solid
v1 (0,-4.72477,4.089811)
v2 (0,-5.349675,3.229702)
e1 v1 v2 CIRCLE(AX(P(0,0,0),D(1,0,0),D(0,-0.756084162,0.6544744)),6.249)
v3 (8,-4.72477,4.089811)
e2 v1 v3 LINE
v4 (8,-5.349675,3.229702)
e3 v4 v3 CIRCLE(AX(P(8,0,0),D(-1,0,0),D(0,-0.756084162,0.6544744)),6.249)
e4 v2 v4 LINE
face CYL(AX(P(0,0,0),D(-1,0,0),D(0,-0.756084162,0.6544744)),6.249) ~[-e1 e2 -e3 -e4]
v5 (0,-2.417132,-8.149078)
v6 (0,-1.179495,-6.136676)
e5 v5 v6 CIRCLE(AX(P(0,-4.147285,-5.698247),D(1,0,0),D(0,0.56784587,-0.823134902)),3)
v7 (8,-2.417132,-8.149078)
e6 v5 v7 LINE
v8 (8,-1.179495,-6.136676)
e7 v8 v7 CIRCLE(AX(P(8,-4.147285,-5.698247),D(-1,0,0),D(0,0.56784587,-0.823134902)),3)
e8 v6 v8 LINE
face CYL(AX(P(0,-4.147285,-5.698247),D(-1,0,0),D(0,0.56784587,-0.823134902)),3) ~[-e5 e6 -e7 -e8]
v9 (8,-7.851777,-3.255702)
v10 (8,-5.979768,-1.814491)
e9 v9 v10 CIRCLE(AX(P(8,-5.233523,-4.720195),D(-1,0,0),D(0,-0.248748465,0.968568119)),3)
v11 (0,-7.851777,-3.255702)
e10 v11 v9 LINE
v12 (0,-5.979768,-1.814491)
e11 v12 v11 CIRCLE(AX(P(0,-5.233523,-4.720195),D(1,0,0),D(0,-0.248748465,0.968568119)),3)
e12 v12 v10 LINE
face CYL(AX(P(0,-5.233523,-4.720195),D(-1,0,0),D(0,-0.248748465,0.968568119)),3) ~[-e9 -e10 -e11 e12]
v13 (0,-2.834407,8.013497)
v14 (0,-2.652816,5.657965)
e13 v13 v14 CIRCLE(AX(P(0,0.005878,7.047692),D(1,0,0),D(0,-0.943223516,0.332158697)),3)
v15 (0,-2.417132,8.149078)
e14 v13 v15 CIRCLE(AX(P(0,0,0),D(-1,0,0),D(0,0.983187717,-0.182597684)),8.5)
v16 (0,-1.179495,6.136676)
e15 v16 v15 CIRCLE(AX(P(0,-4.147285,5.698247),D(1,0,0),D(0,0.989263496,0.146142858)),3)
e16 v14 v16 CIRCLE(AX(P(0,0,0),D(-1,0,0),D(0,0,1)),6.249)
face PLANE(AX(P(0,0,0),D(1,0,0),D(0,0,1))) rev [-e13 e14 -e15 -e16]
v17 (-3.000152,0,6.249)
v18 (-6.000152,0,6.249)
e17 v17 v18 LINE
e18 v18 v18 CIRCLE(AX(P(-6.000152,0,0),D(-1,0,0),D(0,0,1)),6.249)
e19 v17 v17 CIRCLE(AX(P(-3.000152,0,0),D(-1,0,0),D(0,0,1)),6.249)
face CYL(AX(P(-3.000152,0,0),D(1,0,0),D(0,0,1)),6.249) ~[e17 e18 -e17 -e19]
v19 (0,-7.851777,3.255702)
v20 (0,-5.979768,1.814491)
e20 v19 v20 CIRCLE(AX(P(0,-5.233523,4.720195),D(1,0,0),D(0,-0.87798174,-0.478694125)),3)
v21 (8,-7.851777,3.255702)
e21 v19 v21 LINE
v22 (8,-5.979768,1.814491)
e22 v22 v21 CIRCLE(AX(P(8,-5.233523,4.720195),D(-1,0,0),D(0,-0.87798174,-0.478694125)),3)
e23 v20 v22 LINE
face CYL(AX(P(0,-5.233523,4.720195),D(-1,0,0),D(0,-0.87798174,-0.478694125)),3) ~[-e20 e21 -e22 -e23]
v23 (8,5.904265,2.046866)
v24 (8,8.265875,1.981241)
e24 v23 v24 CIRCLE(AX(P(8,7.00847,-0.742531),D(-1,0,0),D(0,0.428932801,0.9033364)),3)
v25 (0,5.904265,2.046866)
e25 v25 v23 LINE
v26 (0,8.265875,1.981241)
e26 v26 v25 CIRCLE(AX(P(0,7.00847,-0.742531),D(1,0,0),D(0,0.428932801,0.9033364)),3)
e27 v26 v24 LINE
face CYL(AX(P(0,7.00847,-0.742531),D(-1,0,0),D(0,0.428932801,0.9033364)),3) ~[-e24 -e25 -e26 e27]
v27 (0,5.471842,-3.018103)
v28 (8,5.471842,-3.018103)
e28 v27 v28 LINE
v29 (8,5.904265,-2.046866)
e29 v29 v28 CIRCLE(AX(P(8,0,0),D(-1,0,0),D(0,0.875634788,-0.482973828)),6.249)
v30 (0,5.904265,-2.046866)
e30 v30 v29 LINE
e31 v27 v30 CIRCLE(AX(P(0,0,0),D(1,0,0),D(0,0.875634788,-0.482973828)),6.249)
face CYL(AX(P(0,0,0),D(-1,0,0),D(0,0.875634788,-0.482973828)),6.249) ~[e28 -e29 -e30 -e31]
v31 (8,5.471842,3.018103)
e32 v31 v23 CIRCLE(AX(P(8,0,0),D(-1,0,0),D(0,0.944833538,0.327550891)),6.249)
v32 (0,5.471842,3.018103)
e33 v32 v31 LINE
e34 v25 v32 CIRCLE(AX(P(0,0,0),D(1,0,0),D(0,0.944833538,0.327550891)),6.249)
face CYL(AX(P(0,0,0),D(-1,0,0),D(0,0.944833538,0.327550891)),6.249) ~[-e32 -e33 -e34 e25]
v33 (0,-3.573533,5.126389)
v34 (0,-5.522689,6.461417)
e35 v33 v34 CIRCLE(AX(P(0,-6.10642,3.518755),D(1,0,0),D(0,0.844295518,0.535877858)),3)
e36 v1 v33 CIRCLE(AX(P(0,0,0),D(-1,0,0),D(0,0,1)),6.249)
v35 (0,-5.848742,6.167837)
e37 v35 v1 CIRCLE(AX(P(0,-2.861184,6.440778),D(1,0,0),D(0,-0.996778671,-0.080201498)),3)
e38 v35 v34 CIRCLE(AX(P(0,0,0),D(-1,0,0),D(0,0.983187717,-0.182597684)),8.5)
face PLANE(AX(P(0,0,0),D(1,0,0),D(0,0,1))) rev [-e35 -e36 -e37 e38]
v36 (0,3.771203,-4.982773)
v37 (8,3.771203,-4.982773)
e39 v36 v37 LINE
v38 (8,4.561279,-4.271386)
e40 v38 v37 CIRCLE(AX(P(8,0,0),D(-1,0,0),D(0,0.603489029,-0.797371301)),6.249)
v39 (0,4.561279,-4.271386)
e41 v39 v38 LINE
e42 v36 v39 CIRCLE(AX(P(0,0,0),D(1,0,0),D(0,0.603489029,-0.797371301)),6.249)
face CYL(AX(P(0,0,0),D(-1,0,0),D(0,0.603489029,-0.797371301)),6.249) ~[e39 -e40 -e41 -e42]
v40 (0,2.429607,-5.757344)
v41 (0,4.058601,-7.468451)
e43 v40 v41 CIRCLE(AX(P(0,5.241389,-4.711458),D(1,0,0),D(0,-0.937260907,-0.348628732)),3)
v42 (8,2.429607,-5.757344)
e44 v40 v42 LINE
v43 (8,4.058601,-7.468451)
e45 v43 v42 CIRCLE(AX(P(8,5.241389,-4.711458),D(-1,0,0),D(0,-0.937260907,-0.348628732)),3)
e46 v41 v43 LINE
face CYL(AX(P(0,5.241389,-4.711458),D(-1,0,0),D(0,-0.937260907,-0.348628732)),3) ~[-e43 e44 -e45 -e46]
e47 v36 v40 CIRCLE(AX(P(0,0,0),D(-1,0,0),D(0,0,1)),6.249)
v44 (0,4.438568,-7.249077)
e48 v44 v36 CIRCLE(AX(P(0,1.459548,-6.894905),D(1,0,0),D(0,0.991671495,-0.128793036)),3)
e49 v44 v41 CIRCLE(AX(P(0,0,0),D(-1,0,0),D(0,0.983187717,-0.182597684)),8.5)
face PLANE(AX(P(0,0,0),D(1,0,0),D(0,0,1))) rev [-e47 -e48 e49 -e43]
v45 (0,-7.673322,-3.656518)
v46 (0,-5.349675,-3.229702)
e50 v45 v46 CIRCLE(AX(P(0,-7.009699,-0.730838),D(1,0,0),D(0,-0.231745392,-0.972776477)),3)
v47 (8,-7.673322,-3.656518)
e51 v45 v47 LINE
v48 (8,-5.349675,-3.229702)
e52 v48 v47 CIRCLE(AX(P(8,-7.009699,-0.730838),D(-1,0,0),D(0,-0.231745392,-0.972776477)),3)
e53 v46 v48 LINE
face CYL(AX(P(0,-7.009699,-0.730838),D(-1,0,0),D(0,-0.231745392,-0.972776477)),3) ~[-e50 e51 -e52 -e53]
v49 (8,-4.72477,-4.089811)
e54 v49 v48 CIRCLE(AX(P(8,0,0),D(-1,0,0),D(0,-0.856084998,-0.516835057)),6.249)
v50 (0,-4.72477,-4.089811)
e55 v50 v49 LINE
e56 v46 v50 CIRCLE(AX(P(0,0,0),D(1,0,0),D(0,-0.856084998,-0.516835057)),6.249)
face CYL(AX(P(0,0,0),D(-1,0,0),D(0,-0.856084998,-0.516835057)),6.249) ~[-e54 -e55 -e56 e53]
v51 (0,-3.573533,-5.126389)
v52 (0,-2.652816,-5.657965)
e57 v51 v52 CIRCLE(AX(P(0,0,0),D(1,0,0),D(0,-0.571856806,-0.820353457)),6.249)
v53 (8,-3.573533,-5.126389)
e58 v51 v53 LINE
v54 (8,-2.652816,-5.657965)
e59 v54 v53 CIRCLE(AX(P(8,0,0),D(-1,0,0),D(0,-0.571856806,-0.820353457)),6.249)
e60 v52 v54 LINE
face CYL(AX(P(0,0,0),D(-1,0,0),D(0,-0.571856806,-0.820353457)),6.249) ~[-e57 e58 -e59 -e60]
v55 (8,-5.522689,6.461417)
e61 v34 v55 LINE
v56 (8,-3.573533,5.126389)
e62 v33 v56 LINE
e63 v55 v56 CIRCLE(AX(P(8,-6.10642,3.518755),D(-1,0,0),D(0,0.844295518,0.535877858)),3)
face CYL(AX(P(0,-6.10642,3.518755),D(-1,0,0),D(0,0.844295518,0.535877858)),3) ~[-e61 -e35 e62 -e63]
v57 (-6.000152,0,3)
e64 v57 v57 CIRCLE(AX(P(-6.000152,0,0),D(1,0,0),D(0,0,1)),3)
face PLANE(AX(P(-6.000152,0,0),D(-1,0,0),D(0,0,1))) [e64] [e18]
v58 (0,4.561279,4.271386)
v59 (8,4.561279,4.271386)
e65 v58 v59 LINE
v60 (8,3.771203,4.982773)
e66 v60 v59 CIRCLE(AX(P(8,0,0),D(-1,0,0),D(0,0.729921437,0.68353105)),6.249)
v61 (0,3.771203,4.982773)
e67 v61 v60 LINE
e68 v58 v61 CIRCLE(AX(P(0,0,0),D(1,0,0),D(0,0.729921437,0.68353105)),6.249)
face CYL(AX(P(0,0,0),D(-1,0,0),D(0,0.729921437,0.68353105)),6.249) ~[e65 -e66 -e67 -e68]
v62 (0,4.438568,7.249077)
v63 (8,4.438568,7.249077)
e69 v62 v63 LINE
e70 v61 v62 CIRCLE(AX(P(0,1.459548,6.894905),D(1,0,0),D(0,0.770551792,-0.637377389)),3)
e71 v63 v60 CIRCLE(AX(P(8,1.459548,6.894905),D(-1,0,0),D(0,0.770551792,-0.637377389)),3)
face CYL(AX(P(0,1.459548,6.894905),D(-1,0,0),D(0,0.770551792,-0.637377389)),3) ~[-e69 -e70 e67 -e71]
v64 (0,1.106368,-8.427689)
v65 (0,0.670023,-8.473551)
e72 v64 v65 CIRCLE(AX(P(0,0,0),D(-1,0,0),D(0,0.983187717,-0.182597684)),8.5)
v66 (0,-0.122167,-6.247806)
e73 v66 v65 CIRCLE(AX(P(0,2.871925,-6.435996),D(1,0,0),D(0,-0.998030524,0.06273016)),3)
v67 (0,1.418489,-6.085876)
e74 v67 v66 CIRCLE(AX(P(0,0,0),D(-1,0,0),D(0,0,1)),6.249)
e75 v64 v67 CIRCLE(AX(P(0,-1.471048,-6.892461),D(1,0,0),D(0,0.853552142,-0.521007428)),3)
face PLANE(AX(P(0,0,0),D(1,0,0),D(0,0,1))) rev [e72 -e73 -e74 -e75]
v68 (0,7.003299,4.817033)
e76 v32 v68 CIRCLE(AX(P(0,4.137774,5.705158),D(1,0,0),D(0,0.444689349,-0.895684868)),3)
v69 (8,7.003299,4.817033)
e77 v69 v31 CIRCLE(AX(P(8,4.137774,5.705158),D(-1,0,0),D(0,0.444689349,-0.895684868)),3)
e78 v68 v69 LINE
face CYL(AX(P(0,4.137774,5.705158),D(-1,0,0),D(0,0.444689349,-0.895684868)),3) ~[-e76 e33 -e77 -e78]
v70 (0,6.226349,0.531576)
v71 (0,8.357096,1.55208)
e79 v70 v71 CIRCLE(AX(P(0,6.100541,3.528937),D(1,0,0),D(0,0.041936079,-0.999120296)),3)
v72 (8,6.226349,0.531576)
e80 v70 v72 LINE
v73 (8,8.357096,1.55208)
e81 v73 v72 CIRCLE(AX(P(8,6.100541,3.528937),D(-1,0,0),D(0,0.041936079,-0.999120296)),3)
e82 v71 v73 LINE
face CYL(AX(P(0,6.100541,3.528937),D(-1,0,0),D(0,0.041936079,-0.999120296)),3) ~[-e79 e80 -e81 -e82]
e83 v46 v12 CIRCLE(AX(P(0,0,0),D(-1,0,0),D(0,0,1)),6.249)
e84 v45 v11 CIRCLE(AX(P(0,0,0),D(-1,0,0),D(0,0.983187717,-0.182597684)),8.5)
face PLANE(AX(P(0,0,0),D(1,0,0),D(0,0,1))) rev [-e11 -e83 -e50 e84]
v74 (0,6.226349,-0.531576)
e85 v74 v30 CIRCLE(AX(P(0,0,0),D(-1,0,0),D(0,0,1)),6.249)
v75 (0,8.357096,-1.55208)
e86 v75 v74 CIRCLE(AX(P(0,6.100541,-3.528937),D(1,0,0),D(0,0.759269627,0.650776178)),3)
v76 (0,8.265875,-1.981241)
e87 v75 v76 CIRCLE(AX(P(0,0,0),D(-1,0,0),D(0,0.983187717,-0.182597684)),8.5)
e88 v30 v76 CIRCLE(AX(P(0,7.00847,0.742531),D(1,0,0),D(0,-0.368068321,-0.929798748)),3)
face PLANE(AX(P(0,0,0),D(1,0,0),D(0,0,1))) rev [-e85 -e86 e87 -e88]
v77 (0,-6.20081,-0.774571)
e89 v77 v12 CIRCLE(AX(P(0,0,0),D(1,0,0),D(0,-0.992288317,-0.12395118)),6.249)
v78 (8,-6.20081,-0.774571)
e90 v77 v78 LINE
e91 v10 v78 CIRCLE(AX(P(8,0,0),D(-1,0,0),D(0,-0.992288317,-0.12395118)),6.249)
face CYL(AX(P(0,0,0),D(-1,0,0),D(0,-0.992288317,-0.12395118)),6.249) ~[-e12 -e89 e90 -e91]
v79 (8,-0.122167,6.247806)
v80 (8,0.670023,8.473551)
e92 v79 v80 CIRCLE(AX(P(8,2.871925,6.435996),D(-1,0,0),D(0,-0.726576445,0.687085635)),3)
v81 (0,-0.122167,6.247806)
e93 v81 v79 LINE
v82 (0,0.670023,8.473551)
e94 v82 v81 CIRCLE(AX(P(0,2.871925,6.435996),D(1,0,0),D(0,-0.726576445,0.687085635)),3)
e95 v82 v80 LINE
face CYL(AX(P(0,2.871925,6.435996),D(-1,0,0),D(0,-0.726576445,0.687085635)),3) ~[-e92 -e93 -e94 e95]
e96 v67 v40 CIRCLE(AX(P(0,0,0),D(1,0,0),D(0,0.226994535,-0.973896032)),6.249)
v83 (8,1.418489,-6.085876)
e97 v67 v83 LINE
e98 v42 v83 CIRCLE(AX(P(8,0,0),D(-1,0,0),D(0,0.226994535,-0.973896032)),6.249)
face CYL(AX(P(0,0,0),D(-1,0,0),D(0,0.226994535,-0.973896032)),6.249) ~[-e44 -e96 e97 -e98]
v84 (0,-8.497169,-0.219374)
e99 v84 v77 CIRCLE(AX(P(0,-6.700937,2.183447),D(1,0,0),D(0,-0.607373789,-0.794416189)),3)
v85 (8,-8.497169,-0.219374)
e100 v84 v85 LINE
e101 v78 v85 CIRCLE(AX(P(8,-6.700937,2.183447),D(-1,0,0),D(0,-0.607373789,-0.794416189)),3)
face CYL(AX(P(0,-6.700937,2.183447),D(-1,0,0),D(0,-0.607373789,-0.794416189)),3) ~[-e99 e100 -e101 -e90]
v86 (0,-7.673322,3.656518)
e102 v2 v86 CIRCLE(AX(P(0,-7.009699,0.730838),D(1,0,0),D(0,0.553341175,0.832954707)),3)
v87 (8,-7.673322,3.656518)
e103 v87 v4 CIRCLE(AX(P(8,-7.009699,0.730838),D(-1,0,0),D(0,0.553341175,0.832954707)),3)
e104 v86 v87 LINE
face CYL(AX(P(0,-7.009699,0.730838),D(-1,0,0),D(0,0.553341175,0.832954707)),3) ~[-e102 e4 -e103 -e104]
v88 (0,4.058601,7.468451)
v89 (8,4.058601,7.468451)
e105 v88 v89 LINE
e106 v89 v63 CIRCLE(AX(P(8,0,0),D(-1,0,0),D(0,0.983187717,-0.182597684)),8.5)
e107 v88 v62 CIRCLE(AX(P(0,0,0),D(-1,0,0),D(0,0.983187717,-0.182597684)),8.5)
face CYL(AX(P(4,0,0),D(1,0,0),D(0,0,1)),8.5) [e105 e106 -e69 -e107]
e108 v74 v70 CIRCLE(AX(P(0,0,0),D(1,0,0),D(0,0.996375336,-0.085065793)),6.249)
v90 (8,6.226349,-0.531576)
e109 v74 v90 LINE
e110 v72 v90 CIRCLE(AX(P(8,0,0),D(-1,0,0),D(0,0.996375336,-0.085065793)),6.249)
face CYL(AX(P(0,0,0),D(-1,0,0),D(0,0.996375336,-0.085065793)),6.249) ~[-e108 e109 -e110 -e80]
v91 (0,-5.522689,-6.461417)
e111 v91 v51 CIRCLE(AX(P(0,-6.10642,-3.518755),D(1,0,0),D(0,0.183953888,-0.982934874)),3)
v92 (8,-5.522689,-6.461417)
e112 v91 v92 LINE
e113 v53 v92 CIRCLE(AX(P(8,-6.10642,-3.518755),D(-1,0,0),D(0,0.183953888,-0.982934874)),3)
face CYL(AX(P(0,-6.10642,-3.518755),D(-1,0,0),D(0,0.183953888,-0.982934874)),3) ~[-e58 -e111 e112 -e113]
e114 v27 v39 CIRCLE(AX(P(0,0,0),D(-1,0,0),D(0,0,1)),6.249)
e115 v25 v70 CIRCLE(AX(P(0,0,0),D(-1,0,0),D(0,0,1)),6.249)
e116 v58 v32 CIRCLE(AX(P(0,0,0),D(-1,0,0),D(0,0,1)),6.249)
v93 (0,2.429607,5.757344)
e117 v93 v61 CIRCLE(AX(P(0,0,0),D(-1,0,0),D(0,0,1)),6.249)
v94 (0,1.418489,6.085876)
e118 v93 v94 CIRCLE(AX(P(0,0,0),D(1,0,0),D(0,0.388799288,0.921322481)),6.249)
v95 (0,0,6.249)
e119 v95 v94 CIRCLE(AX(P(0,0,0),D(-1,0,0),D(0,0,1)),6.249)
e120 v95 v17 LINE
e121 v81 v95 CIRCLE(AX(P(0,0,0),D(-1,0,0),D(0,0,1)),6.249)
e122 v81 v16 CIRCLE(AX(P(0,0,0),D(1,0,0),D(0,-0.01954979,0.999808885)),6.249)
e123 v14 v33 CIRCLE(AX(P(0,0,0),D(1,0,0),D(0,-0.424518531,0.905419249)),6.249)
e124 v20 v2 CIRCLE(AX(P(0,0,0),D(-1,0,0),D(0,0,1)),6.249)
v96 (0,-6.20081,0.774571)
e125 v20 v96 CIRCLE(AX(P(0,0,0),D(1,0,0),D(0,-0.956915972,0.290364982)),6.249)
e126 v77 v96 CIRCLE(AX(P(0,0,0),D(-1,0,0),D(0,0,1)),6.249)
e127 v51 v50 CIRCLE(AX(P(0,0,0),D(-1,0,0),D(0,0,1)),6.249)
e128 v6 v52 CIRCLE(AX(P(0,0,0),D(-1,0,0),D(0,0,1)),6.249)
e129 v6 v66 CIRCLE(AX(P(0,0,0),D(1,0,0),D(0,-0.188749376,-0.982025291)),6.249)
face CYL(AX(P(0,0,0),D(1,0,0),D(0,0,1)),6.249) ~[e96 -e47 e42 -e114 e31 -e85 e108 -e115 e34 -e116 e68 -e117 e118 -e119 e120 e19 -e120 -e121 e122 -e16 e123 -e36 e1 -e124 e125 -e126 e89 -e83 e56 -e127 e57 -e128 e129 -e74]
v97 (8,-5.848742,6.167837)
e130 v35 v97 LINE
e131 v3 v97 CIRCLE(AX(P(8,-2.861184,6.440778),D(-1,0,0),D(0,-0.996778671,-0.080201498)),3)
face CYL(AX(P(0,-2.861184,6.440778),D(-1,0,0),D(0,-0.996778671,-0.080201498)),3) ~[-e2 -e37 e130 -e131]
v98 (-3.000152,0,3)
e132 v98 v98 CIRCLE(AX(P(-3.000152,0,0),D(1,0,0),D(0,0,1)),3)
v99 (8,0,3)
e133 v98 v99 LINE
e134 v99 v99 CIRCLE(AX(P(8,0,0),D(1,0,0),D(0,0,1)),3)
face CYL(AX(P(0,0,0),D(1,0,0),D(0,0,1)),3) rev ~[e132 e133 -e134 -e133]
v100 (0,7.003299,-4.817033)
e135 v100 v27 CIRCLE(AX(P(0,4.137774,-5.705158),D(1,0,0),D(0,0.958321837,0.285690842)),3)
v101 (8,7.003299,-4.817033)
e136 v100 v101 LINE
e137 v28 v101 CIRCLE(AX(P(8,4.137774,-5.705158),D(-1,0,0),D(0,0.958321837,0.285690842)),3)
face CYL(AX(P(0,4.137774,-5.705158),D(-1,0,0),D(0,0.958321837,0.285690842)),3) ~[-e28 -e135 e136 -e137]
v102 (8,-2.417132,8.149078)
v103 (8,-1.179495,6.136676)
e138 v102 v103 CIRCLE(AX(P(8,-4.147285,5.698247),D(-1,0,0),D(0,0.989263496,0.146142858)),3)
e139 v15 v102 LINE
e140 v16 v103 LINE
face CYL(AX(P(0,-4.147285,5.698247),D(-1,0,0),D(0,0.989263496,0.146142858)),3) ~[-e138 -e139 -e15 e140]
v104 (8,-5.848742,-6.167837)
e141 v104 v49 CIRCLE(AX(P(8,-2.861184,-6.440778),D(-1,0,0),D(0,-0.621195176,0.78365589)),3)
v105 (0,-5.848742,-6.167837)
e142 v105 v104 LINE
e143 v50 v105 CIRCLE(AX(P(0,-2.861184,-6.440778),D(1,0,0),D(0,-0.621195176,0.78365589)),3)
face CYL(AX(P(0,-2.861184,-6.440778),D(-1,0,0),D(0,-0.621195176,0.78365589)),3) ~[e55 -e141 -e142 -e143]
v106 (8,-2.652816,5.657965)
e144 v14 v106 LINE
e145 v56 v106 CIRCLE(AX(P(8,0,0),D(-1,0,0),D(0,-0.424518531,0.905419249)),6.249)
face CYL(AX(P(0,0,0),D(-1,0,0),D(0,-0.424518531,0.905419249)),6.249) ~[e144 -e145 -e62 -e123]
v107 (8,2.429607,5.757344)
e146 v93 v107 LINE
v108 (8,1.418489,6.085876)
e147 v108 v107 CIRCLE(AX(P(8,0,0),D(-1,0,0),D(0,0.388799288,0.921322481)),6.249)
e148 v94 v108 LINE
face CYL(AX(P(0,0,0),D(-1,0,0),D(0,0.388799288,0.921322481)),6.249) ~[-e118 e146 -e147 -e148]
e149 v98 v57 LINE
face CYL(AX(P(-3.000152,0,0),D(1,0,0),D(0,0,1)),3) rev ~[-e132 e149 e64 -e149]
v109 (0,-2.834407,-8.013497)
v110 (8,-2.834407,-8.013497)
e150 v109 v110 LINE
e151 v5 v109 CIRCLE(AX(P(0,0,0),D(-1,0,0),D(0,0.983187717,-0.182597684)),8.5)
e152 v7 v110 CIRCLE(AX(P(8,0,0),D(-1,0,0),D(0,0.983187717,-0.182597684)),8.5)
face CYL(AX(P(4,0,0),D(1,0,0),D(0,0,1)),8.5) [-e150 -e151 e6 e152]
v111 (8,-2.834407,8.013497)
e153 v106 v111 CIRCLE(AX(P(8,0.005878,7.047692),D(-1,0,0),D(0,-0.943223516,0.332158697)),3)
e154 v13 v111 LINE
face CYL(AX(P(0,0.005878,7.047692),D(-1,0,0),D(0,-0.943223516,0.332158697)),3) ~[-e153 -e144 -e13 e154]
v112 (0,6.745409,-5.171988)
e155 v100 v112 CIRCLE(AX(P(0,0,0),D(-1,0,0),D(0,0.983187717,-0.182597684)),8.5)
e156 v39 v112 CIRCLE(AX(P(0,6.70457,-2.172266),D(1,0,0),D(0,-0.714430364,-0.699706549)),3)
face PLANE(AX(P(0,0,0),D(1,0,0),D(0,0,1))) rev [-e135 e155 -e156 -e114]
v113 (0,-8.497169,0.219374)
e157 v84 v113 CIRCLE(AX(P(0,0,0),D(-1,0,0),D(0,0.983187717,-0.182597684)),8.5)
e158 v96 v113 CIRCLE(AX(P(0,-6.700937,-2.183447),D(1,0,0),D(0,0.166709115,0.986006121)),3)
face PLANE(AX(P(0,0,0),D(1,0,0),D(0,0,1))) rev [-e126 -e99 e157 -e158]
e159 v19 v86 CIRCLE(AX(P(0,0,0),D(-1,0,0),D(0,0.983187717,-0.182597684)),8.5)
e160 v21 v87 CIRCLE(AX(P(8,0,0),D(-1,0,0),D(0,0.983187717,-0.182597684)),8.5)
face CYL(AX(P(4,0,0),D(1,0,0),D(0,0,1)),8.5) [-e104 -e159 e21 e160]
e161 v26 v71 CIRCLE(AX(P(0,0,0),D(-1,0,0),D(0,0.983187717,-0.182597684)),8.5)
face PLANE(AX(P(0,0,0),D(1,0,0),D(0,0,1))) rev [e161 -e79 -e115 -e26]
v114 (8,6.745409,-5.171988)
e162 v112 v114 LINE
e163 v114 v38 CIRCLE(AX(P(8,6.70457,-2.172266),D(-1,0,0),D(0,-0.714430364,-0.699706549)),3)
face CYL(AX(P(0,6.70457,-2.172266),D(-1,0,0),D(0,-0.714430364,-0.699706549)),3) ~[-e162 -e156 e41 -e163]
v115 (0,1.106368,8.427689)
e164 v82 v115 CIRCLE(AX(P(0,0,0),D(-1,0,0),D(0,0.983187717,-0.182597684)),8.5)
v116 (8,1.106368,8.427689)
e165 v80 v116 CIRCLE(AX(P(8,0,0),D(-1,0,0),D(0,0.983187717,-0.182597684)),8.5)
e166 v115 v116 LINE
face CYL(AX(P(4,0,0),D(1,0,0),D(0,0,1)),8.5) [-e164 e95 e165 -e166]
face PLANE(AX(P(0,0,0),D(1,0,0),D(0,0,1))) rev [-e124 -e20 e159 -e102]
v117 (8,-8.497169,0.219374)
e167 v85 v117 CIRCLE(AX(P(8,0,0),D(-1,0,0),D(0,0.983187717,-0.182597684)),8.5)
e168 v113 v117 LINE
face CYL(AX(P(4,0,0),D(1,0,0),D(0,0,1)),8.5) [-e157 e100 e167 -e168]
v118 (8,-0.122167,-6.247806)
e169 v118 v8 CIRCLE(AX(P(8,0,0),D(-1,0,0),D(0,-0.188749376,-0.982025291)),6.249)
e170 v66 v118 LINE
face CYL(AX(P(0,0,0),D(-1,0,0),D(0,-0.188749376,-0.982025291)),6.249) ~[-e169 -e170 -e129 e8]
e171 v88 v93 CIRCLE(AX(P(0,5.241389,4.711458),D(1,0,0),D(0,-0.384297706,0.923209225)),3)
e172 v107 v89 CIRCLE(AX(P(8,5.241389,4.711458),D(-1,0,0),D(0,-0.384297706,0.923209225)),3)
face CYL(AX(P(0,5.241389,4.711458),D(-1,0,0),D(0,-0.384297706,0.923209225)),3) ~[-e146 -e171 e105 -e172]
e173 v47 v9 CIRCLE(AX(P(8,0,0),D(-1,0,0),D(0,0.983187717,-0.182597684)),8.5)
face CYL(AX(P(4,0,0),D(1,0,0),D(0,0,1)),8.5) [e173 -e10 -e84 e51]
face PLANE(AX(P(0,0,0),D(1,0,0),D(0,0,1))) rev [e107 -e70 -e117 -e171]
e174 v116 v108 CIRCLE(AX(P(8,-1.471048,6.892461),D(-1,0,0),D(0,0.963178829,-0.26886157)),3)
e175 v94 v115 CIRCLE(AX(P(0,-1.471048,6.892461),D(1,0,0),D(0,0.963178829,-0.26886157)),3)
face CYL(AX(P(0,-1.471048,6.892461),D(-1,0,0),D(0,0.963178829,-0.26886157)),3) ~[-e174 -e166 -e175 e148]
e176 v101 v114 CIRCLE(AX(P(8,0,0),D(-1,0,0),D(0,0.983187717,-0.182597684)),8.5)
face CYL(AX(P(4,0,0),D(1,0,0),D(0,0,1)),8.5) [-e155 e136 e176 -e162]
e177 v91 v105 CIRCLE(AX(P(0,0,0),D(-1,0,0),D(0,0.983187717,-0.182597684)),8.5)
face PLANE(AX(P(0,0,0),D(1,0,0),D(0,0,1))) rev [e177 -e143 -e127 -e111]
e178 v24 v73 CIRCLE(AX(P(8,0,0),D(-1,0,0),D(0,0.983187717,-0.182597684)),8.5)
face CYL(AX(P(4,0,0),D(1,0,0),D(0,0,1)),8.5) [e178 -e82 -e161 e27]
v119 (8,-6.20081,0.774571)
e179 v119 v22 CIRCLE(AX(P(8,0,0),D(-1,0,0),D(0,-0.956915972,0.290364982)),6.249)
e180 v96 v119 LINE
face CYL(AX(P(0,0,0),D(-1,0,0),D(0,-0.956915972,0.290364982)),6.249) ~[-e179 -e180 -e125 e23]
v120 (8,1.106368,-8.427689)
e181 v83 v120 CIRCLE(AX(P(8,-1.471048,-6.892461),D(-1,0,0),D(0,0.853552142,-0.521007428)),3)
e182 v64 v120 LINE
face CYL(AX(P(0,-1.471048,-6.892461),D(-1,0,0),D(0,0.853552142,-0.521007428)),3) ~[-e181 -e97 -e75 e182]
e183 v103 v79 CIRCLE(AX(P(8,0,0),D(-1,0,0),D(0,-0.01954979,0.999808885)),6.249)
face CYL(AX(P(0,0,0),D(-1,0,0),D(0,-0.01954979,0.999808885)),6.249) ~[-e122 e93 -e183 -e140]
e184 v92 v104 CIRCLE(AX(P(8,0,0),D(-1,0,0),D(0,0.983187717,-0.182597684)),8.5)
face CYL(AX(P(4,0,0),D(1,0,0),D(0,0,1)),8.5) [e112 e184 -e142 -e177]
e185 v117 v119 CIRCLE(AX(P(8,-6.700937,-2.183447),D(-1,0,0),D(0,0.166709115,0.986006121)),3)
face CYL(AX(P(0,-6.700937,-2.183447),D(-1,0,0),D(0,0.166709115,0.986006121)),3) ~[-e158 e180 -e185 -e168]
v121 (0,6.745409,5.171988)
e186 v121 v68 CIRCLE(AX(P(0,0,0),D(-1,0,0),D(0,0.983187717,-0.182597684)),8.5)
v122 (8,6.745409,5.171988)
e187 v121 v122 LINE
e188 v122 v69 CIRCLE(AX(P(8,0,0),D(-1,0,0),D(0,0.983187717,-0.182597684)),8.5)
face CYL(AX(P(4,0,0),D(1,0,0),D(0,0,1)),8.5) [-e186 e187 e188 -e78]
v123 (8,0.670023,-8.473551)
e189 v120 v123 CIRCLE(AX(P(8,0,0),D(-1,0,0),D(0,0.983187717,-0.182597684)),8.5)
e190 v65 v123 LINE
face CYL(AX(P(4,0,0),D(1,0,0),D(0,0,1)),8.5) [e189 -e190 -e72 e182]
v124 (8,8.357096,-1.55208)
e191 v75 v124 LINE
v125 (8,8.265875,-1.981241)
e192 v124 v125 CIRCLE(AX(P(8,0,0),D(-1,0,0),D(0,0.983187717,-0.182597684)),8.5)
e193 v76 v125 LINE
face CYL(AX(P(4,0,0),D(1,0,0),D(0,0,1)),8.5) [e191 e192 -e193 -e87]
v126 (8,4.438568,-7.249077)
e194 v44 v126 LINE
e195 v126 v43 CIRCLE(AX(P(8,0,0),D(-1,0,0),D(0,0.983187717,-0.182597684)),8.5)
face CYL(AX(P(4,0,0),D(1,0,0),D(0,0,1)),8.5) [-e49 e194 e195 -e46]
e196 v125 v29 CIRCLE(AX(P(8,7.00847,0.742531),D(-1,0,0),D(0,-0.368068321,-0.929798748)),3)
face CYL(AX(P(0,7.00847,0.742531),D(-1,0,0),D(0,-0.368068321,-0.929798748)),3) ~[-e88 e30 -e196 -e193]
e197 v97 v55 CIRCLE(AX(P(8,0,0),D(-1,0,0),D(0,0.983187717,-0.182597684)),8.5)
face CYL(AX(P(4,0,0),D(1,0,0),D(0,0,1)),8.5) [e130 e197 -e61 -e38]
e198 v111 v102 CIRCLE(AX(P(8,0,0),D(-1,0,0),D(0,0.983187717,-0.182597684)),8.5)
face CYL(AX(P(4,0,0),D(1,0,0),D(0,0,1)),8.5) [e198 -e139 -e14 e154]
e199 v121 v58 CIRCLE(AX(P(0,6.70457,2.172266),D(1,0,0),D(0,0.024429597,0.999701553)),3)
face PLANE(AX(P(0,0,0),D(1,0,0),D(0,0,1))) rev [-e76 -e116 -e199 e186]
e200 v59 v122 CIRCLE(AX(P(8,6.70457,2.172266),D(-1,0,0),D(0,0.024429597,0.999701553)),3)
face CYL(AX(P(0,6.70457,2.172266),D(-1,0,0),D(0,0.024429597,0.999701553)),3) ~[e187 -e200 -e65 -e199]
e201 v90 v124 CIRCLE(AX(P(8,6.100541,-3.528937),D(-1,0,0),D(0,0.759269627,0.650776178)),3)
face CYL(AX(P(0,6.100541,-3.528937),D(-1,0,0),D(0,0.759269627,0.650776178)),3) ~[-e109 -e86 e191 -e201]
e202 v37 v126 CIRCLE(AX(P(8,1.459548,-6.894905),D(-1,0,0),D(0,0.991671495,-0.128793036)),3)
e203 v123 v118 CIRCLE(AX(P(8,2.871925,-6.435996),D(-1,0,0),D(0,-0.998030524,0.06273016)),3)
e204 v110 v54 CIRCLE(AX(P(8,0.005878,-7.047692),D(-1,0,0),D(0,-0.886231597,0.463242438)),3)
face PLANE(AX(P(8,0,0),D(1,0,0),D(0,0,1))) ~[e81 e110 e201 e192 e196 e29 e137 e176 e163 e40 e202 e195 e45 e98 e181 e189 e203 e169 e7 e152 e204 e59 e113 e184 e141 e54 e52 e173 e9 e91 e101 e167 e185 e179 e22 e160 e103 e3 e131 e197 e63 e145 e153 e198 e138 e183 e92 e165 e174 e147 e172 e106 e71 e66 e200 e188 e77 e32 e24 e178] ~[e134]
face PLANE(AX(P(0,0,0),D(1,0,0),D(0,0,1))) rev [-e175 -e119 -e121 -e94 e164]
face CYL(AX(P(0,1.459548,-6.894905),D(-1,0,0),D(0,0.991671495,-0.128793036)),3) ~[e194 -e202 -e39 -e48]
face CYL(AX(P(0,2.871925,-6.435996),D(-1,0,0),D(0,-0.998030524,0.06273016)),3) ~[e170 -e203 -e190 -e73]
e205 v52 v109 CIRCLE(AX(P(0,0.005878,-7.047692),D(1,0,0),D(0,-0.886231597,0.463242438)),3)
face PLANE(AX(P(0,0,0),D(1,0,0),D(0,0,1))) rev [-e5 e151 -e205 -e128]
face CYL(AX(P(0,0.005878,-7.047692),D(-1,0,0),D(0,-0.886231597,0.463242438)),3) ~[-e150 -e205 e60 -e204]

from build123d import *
from build123d.topology import SkipClean

# Parameters (mm, degrees)
BASPROSKE_W      = 8
BASPROSKE_H      = 8.5
TOOTHCUT_DEPTH   = 15.439529078
TEETHCUTS_COUNT  = 15
TEETHCUTS_ANGLE  = 336
HUBNEAONESKE_R   = 6.249
HUBNEARONE_DEPTH = 3.0001524
BORSKE_R         = 3
BORE_DEPTH       = 11.0001524
MOVE_FACE1_BY    = 3


with BuildPart() as part:
    # BasProSke → Base-Revolve (revolve)
    with BuildSketch(Plane(origin=(0, 0, 0), x_dir=(1, 0, 0), z_dir=(0, 1, 0)), mode=Mode.PRIVATE) as base_revolve_sk:
        with Locations((4, 4.25)):
            Rectangle(BASPROSKE_W, BASPROSKE_H)
    revolve(base_revolve_sk.sketch.rotate(Axis((-10, 0, 0), (1, 0, 0)), 180), axis=Axis((-10, 0, 0), (1, 0, 0)))

    # TooCutSke → ToothCut (cut, through all)
    with BuildSketch(Plane(origin=(0, 0, 0), x_dir=(0, 0, -1), z_dir=(1, 0, 0))):
        with BuildLine():
            ThreePointArc((0.531576138, 6.226349477), (0, 6.249), (-0.531576138, 6.226349477))
            ThreePointArc((-0.531576138, 6.226349477), (-0.830301624, 7.411024729), (-1.576608494, 8.378350125))
            ThreePointArc((-1.576608494, 8.378350125), (0, 8.5254), (1.576608494, 8.378350125))
            ThreePointArc((1.576608494, 8.378350125), (0.830301624, 7.411024729), (0.531576138, 6.226349477))
        make_face()
    toothcut = extrude(amount=TOOTHCUT_DEPTH, mode=Mode.SUBTRACT)

    # TeethCuts: ToothCut ×15 about axis
    teethcuts_axis = Axis((-10, 0, 0), (1, 0, 0))
    for i in range(1, TEETHCUTS_COUNT):
        add(toothcut.rotate(teethcuts_axis, i * TEETHCUTS_ANGLE / (TEETHCUTS_COUNT - 1)), mode=Mode.SUBTRACT)

    # HubNeaOneSke → HubNearOne (add)
    with SkipClean():  # the faces are left unmerged after this step: merging them gives an invalid solid
        with BuildSketch(Plane.ZY):
            Circle(HUBNEAONESKE_R)
        extrude(amount=HUBNEARONE_DEPTH)

    # BorSke → Bore (cut, symmetric)
    with SkipClean():  # the faces are left unmerged after this step: merging them gives an invalid solid
        with BuildSketch(Plane(origin=(0, 0, 0), x_dir=(0, 0, -1), z_dir=(1, 0, 0))):
            with Locations(Location((0, 0, 0), (0, 0, 180))):
                Circle(BORSKE_R)
        extrude(amount=BORE_DEPTH, both=True, mode=Mode.SUBTRACT)

    # Move Face1: a face moved outward by 3.0
    extrude(part.faces().sort_by_distance((-3.0001524, -3.1245, 0))[0], amount=MOVE_FACE1_BY, dir=(-1, 0, 0))


solid = part.part
